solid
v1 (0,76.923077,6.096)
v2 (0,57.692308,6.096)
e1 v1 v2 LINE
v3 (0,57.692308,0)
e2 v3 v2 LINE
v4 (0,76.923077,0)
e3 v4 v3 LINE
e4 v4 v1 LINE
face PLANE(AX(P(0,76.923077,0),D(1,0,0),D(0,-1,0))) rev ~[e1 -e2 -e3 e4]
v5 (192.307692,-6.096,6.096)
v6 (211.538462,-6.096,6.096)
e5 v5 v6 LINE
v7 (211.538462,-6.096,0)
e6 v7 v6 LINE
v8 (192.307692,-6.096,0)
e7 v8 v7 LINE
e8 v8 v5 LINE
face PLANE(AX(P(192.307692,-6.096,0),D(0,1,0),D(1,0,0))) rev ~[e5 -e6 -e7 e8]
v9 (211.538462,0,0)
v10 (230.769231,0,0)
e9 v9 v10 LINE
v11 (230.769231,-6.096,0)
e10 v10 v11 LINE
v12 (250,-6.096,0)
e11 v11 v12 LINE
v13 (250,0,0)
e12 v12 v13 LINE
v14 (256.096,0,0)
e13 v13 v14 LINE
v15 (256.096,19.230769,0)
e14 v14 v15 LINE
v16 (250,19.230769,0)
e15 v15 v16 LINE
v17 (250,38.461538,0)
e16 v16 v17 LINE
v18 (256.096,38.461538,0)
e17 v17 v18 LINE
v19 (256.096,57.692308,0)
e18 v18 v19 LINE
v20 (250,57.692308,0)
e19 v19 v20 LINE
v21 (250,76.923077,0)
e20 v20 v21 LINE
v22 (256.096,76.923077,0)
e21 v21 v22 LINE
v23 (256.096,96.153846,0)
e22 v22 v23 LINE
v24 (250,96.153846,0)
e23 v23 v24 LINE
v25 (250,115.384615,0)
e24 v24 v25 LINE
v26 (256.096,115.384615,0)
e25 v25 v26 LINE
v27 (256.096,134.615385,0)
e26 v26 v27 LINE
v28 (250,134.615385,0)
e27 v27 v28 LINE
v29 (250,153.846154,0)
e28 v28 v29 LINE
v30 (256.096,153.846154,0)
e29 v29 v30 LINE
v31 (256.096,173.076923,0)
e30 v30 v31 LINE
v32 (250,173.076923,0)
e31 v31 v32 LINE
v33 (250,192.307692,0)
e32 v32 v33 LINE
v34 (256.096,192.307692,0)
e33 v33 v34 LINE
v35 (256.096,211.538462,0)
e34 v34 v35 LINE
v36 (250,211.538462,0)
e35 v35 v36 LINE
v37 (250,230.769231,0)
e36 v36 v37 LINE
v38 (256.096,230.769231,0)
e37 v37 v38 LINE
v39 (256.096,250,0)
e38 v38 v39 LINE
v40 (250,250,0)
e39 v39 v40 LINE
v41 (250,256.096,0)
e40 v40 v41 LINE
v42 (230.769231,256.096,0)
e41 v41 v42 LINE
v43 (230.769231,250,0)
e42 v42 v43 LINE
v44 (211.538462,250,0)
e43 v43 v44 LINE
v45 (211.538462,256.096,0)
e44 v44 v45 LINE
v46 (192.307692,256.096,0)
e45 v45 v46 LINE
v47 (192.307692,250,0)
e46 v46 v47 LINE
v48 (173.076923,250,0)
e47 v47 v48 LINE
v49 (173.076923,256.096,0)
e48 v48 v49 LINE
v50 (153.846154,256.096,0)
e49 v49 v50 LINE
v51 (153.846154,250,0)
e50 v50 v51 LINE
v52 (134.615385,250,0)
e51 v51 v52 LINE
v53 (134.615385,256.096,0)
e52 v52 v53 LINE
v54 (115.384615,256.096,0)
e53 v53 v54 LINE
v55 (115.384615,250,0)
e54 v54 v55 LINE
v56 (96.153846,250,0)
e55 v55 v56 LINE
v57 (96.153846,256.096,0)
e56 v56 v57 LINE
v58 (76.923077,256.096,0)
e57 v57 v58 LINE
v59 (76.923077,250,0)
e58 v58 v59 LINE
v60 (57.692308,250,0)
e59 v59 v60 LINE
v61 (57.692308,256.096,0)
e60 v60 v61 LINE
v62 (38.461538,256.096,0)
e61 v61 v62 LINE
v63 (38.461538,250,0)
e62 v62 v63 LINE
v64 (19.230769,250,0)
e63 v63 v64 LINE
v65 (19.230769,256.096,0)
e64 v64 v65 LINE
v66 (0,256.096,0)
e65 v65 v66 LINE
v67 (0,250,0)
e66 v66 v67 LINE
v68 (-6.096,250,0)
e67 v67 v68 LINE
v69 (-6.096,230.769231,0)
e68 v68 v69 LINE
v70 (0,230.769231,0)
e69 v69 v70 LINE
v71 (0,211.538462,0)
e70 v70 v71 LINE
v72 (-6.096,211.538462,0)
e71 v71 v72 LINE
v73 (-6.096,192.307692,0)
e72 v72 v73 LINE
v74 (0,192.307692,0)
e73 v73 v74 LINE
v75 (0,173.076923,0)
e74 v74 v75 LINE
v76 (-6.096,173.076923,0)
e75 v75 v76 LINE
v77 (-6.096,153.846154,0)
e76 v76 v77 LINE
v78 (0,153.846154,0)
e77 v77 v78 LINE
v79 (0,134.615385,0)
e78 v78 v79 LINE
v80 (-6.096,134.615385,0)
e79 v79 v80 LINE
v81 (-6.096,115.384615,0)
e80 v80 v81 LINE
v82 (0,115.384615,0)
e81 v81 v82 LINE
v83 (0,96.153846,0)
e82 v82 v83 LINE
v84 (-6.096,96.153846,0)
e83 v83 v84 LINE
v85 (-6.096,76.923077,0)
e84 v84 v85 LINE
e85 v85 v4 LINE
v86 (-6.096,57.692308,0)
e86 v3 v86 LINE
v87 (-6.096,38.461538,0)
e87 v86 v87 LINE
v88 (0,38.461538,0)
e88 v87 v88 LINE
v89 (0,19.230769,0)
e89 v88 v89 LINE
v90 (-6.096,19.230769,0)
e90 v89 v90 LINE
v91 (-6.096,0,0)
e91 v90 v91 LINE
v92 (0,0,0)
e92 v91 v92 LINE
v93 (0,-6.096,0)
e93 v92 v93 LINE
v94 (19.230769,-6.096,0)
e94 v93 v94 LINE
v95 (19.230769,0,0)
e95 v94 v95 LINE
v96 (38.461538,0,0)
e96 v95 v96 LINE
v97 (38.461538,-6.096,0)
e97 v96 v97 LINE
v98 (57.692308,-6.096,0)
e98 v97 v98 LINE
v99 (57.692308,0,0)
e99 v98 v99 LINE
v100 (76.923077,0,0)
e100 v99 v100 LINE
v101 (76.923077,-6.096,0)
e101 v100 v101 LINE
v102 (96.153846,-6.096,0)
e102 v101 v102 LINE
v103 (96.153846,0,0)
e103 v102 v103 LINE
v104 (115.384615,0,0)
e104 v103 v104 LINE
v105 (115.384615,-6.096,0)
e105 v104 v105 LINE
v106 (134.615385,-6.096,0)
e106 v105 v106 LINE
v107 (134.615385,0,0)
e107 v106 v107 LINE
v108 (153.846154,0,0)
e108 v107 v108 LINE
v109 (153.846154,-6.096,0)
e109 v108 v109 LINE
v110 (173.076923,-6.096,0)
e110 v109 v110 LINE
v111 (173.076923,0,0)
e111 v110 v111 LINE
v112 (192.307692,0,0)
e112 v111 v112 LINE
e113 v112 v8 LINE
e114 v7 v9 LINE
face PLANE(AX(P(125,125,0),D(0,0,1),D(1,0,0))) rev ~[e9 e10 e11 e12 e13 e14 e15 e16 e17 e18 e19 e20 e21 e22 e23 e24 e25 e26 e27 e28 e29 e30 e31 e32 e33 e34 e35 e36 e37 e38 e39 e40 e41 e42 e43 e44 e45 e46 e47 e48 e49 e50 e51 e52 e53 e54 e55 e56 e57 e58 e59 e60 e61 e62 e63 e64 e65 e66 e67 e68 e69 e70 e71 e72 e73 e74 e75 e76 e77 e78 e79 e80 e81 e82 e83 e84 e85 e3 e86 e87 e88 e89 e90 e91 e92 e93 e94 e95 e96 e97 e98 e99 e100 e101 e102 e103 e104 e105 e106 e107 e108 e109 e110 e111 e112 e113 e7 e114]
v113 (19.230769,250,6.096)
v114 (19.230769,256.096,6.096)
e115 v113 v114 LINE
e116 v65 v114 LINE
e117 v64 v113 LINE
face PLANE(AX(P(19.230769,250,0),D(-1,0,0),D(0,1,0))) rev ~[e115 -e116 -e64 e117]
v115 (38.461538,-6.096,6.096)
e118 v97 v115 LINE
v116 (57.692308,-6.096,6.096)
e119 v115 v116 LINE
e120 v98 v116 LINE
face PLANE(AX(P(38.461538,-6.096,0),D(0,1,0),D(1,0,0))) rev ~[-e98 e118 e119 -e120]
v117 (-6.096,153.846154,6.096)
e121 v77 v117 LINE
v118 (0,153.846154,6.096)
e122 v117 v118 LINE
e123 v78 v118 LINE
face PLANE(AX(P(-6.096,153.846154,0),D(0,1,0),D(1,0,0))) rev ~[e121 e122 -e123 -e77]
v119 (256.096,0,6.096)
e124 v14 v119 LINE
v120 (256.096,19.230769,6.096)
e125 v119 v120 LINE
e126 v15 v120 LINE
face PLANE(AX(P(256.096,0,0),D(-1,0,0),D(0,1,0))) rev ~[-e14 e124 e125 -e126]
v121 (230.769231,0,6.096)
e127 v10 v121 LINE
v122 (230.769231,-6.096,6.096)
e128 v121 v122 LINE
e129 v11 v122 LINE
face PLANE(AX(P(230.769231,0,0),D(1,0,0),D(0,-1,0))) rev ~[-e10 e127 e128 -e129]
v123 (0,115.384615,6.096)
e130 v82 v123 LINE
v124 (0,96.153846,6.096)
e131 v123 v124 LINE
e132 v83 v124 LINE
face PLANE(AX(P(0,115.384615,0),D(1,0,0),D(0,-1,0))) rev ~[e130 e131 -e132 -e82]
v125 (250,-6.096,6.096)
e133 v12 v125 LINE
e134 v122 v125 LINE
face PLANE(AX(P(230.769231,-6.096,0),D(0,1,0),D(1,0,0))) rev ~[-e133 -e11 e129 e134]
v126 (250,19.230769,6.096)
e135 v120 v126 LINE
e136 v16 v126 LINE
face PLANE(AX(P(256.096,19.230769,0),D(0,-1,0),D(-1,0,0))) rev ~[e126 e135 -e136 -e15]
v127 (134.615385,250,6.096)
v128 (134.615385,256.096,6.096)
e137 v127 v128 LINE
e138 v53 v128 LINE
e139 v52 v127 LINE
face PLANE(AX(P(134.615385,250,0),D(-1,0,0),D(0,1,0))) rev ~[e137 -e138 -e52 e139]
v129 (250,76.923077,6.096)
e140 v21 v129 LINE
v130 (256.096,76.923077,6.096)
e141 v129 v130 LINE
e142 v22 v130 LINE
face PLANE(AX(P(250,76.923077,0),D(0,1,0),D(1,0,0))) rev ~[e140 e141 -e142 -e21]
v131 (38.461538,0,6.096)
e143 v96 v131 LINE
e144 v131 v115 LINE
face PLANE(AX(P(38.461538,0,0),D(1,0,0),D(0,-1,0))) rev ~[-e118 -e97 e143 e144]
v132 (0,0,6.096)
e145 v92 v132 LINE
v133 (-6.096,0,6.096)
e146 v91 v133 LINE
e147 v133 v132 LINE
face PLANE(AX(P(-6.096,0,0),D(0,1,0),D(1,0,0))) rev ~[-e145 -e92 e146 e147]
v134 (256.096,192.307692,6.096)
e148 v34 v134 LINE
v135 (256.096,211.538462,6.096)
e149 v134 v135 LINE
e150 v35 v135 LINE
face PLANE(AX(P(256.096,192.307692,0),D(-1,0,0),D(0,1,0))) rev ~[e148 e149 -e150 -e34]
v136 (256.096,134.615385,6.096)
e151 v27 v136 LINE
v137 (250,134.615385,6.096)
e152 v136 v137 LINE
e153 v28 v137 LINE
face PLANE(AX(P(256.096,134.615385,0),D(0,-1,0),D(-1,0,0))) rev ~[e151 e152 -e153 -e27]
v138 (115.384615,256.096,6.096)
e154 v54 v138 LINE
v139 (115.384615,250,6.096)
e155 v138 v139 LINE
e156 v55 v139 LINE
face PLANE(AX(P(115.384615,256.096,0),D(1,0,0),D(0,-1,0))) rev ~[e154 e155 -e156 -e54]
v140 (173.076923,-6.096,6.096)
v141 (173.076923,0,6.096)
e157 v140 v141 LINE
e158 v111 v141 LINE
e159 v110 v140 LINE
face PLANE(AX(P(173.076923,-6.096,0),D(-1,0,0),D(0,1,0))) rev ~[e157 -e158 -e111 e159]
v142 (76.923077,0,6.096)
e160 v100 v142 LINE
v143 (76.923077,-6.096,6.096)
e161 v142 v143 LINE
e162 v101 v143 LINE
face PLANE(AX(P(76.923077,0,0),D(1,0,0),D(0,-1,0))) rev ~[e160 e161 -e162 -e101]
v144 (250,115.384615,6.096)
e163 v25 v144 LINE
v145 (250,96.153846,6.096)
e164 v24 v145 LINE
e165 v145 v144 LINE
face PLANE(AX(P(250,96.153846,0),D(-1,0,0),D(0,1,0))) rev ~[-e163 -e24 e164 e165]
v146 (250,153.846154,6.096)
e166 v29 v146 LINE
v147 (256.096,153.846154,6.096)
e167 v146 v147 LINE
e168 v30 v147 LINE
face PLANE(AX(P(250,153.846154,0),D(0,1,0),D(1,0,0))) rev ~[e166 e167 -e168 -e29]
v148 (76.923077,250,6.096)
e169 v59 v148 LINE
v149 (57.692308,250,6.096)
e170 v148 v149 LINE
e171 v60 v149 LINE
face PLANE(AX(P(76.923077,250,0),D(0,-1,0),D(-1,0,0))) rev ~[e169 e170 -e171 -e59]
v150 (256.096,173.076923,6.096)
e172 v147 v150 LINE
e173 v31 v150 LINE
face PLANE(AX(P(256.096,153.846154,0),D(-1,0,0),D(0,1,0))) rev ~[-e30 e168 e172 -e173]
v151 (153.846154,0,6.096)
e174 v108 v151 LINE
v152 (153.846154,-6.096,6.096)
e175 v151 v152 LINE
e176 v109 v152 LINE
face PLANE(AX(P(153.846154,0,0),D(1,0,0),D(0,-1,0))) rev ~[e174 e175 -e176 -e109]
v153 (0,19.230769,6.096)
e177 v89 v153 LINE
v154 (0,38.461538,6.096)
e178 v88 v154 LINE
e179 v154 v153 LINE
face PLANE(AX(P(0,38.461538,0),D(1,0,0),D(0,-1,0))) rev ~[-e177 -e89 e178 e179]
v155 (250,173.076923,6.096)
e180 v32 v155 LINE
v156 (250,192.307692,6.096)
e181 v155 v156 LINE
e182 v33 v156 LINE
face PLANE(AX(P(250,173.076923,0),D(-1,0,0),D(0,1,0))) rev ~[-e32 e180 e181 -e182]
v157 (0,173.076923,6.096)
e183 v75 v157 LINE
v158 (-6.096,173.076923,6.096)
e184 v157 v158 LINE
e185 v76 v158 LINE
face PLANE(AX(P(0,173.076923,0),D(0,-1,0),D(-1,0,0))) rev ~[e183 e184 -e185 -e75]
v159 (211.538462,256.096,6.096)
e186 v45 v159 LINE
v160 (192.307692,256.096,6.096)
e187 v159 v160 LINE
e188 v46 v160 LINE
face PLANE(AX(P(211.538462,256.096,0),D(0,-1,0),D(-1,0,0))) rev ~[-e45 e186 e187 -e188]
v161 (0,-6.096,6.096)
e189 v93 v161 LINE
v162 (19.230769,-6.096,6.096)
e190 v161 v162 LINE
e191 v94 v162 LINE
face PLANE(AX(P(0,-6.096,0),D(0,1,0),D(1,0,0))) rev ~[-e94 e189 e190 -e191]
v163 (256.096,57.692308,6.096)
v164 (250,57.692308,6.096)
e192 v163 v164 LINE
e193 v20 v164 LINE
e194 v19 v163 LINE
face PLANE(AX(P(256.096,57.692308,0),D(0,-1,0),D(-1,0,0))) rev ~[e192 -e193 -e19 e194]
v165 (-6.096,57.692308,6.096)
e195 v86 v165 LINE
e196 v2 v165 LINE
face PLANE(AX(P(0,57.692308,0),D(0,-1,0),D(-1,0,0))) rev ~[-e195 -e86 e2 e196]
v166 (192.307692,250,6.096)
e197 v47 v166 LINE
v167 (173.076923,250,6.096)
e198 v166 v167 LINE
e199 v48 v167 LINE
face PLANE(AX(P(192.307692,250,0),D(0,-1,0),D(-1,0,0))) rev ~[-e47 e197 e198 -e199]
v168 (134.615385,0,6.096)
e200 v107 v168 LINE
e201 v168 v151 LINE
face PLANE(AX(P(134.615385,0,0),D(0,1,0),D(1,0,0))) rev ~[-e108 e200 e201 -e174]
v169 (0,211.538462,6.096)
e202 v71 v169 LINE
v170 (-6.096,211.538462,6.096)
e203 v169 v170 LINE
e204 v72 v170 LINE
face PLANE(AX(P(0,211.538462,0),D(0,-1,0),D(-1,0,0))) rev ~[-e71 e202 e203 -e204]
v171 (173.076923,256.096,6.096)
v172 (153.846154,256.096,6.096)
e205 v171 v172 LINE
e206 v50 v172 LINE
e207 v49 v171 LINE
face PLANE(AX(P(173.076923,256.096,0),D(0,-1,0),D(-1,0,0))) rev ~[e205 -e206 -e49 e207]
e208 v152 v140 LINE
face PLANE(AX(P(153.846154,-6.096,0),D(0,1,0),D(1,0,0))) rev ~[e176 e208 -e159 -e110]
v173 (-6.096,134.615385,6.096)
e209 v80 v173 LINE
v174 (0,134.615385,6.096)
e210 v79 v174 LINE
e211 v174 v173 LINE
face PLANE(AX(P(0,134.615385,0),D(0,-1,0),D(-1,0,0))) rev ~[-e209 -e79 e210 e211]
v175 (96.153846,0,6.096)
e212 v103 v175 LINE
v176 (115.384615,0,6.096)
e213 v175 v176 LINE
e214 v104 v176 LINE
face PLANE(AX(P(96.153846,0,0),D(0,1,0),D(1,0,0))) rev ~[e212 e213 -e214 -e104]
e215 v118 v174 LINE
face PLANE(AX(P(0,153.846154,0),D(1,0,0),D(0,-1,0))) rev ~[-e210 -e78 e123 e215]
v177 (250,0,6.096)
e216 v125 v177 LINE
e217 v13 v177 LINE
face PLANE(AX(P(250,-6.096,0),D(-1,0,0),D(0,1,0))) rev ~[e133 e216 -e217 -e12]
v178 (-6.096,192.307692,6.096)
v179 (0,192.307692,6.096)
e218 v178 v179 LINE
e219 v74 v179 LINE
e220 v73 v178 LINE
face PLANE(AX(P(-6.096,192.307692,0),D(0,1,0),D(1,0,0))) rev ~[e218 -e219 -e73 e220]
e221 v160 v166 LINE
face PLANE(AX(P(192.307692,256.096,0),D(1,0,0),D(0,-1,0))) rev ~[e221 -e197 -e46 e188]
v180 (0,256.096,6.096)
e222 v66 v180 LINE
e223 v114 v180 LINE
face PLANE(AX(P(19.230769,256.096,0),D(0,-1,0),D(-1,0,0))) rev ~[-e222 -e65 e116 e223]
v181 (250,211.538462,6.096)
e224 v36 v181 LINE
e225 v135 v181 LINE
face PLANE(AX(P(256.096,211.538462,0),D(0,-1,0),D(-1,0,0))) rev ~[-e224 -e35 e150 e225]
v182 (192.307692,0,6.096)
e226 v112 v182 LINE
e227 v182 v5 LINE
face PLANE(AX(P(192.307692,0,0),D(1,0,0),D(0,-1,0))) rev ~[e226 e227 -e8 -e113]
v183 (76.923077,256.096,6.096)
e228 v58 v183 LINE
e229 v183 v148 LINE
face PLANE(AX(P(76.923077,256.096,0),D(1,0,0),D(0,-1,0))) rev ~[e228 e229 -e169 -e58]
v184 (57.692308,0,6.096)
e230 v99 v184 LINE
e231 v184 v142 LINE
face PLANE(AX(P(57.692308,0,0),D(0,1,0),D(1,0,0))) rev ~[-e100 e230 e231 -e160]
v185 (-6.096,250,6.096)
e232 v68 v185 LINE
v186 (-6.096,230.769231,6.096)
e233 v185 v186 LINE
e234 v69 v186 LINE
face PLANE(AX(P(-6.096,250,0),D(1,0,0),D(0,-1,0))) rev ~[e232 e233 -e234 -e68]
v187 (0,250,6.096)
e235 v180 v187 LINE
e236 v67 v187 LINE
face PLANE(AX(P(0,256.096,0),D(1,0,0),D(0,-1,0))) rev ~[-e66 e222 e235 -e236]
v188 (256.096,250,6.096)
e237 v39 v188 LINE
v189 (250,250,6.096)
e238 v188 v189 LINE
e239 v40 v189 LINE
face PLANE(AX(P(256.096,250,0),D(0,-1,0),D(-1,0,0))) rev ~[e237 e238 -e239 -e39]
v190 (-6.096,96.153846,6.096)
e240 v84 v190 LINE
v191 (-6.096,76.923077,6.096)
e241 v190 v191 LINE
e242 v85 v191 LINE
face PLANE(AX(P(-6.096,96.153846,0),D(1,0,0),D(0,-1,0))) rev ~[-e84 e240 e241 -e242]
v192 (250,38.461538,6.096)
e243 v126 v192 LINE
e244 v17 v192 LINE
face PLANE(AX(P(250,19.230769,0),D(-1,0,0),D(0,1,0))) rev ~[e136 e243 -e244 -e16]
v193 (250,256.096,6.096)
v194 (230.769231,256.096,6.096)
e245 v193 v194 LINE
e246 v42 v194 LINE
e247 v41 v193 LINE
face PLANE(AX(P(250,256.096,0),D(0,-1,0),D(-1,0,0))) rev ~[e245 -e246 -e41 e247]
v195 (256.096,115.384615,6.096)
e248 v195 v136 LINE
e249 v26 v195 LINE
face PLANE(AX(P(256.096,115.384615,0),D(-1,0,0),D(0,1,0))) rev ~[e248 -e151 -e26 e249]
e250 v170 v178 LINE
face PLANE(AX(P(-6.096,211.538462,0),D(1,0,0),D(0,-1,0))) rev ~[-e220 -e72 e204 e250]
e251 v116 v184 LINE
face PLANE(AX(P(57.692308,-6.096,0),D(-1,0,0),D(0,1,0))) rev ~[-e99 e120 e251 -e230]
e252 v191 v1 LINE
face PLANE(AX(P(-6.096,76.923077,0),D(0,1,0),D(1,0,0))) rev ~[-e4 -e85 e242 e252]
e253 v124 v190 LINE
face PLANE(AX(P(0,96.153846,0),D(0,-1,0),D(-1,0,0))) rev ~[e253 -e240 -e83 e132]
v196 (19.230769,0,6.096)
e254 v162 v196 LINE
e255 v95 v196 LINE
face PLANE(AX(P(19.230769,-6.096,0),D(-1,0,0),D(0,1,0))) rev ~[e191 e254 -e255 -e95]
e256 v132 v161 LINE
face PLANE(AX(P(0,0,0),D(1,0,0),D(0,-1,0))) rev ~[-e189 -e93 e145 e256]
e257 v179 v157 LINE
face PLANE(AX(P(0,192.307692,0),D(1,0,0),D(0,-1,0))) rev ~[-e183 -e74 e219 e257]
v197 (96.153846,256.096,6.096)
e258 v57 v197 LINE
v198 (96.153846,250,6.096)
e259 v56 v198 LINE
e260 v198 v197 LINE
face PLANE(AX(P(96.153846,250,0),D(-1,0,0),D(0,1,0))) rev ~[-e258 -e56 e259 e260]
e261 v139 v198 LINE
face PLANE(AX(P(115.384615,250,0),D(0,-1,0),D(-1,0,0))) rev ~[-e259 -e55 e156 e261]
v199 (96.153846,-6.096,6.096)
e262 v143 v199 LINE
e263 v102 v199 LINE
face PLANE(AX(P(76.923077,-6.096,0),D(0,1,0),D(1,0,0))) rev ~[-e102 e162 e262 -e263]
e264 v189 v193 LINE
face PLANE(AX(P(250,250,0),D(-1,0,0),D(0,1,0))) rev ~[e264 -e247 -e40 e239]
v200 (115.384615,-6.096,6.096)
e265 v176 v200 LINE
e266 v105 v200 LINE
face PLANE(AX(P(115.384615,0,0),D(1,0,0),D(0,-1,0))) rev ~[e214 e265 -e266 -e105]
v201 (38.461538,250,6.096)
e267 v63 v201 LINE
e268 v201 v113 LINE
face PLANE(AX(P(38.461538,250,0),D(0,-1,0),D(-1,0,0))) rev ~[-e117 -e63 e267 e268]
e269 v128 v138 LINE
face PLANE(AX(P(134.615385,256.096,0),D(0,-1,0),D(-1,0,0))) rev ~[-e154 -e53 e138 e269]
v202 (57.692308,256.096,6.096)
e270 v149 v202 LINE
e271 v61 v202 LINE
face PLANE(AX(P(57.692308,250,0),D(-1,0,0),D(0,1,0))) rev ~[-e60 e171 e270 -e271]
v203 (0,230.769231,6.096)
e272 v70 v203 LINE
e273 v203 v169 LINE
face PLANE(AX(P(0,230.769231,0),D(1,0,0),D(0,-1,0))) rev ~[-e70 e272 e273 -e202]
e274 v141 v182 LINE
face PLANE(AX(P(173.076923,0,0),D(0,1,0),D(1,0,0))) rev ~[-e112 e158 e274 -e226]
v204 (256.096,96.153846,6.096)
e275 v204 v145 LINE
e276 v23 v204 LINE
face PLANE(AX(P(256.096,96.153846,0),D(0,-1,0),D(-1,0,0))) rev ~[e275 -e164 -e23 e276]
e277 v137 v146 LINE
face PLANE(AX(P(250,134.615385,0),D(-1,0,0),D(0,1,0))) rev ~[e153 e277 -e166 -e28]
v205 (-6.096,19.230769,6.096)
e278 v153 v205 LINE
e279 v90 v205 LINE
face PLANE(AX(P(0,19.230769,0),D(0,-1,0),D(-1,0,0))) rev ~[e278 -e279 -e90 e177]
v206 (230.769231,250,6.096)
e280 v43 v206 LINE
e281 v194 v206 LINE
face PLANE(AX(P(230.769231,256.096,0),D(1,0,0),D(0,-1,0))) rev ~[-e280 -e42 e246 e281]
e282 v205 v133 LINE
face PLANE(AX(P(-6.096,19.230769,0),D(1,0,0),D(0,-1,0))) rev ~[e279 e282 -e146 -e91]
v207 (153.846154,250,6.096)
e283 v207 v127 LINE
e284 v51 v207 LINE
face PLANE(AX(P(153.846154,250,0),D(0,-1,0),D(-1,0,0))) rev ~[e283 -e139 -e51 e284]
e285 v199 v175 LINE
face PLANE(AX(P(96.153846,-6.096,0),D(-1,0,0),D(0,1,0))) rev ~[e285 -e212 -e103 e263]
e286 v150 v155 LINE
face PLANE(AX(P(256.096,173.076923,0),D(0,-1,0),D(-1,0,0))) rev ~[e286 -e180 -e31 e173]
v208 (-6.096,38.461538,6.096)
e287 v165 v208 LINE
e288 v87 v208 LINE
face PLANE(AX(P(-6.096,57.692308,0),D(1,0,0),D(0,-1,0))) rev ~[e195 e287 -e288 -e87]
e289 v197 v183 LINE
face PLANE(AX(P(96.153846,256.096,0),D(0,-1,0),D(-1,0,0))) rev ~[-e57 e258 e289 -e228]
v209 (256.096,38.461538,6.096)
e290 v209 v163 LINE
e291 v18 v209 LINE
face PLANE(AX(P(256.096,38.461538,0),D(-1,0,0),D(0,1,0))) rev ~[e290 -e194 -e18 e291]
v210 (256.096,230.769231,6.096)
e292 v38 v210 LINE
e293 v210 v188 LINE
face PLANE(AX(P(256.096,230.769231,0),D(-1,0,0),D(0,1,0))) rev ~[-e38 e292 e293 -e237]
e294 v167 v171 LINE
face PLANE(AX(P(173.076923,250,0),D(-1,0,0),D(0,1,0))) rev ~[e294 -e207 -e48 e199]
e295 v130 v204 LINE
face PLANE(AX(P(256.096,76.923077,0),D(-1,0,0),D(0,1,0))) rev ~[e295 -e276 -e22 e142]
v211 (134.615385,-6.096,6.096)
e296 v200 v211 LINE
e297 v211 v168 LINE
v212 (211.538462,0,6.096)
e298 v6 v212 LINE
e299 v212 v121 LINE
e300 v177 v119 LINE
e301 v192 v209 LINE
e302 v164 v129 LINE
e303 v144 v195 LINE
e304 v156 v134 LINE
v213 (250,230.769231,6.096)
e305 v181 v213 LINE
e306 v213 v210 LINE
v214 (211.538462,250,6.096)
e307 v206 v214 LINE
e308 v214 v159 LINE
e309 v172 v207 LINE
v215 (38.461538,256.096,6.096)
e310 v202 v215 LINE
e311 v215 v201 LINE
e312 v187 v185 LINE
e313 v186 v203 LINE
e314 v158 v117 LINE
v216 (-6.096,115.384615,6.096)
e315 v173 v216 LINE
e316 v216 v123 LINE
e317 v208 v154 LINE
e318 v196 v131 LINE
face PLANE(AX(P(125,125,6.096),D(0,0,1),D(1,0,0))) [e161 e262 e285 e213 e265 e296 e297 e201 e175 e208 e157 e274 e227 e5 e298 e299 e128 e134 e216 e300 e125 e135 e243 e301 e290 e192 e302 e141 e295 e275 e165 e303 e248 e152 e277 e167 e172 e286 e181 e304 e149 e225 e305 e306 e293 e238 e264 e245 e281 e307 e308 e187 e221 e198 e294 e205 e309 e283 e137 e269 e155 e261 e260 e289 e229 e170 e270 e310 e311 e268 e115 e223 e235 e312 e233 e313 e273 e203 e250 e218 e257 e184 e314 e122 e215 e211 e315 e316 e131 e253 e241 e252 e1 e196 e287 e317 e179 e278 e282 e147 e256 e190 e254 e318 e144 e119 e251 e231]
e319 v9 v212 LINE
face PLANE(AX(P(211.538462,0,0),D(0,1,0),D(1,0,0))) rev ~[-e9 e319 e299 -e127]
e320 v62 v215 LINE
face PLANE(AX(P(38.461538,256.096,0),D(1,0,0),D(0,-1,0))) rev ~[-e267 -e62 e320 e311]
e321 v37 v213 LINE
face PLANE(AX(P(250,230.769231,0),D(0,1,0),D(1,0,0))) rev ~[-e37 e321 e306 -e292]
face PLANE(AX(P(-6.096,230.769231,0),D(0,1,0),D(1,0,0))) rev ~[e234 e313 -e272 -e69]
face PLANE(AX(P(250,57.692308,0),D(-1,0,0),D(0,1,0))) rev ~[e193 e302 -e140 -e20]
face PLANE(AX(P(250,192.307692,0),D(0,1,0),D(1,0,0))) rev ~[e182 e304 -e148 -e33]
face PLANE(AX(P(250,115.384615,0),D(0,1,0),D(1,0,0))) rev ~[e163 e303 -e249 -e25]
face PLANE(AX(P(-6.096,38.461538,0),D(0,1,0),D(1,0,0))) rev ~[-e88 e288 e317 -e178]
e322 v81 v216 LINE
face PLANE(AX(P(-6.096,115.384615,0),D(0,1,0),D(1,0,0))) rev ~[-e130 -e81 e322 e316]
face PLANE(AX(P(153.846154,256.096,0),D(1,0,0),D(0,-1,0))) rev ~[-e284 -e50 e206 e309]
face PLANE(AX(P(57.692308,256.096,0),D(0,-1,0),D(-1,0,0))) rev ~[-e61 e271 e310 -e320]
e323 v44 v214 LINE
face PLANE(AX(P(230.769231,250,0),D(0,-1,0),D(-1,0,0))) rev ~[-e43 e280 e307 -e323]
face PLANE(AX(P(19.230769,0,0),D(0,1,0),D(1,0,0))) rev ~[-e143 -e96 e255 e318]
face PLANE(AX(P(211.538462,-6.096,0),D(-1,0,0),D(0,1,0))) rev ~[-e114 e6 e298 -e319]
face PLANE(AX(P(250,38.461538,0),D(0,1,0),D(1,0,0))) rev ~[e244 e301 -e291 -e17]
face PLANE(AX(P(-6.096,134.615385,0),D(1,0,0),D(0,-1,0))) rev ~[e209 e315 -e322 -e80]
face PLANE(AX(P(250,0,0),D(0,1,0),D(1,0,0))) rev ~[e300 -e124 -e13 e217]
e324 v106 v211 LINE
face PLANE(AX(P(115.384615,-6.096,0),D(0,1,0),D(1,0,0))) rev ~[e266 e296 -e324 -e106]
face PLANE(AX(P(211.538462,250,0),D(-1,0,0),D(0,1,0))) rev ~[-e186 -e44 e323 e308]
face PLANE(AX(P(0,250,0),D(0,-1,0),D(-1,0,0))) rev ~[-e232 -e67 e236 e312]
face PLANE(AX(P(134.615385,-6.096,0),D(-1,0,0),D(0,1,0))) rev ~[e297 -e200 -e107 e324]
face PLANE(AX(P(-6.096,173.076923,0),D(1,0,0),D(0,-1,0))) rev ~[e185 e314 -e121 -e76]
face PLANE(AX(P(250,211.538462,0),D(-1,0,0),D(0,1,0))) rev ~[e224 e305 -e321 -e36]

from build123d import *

# Parameters (mm, degrees)
BOSS_EXTRUDE2_DEPTH = 6.096


with BuildPart() as part:
    # Sketch2 → Boss-Extrude2 (new body)
    with BuildSketch(Plane.XY):
        Polygon((0, 19.230769231), (-6.096, 19.230769231), (-6.096, 0), (0, 0), (0, -6.096), (19.230769231, -6.096), (19.230769231, 0), (38.461538462, 0), (38.461538462, -6.096), (57.692307692, -6.096), (57.692307692, 0), (76.923076923, 0), (76.923076923, -6.096), (96.153846154, -6.096), (96.153846154, 0), (115.384615385, 0), (115.384615385, -6.096), (134.615384615, -6.096), (134.615384615, 0), (153.846153846, 0), (153.846153846, -6.096), (173.076923077, -6.096), (173.076923077, 0), (192.307692308, 0), (192.307692308, -6.096), (211.538461538, -6.096), (211.538461538, 0), (230.769230769, 0), (230.769230769, -6.096), (250, -6.096), (250, 0), (256.096, 0), (256.096, 19.230769231), (250, 19.230769231), (250, 38.461538462), (256.096, 38.461538462), (256.096, 57.692307692), (250, 57.692307692), (250, 76.923076923), (256.096, 76.923076923), (256.096, 96.153846154), (250, 96.153846154), (250, 115.384615385), (256.096, 115.384615385), (256.096, 134.615384615), (250, 134.615384615), (250, 153.846153846), (256.096, 153.846153846), (256.096, 173.076923077), (250, 173.076923077), (250, 192.307692308), (256.096, 192.307692308), (256.096, 211.538461538), (250, 211.538461538), (250, 230.769230769), (256.096, 230.769230769), (256.096, 250), (250, 250), (250, 256.096), (230.769230769, 256.096), (230.769230769, 250), (211.538461538, 250), (211.538461538, 256.096), (192.307692308, 256.096), (192.307692308, 250), (173.076923077, 250), (173.076923077, 256.096), (153.846153846, 256.096), (153.846153846, 250), (134.615384615, 250), (134.615384615, 256.096), (115.384615385, 256.096), (115.384615385, 250), (96.153846154, 250), (96.153846154, 256.096), (76.923076923, 256.096), (76.923076923, 250), (57.692307692, 250), (57.692307692, 256.096), (38.461538462, 256.096), (38.461538462, 250), (19.230769231, 250), (19.230769231, 256.096), (0, 256.096), (0, 250), (-6.096, 250), (-6.096, 230.769230769), (0, 230.769230769), (0, 211.538461538), (-6.096, 211.538461538), (-6.096, 192.307692308), (0, 192.307692308), (0, 173.076923077), (-6.096, 173.076923077), (-6.096, 153.846153846), (0, 153.846153846), (0, 134.615384615), (-6.096, 134.615384615), (-6.096, 115.384615385), (0, 115.384615385), (0, 96.153846154), (-6.096, 96.153846154), (-6.096, 76.923076923), (0, 76.923076923), (0, 57.692307692), (-6.096, 57.692307692), (-6.096, 38.461538462), (0, 38.461538462), align=None)
    extrude(amount=BOSS_EXTRUDE2_DEPTH)


solid = part.part
